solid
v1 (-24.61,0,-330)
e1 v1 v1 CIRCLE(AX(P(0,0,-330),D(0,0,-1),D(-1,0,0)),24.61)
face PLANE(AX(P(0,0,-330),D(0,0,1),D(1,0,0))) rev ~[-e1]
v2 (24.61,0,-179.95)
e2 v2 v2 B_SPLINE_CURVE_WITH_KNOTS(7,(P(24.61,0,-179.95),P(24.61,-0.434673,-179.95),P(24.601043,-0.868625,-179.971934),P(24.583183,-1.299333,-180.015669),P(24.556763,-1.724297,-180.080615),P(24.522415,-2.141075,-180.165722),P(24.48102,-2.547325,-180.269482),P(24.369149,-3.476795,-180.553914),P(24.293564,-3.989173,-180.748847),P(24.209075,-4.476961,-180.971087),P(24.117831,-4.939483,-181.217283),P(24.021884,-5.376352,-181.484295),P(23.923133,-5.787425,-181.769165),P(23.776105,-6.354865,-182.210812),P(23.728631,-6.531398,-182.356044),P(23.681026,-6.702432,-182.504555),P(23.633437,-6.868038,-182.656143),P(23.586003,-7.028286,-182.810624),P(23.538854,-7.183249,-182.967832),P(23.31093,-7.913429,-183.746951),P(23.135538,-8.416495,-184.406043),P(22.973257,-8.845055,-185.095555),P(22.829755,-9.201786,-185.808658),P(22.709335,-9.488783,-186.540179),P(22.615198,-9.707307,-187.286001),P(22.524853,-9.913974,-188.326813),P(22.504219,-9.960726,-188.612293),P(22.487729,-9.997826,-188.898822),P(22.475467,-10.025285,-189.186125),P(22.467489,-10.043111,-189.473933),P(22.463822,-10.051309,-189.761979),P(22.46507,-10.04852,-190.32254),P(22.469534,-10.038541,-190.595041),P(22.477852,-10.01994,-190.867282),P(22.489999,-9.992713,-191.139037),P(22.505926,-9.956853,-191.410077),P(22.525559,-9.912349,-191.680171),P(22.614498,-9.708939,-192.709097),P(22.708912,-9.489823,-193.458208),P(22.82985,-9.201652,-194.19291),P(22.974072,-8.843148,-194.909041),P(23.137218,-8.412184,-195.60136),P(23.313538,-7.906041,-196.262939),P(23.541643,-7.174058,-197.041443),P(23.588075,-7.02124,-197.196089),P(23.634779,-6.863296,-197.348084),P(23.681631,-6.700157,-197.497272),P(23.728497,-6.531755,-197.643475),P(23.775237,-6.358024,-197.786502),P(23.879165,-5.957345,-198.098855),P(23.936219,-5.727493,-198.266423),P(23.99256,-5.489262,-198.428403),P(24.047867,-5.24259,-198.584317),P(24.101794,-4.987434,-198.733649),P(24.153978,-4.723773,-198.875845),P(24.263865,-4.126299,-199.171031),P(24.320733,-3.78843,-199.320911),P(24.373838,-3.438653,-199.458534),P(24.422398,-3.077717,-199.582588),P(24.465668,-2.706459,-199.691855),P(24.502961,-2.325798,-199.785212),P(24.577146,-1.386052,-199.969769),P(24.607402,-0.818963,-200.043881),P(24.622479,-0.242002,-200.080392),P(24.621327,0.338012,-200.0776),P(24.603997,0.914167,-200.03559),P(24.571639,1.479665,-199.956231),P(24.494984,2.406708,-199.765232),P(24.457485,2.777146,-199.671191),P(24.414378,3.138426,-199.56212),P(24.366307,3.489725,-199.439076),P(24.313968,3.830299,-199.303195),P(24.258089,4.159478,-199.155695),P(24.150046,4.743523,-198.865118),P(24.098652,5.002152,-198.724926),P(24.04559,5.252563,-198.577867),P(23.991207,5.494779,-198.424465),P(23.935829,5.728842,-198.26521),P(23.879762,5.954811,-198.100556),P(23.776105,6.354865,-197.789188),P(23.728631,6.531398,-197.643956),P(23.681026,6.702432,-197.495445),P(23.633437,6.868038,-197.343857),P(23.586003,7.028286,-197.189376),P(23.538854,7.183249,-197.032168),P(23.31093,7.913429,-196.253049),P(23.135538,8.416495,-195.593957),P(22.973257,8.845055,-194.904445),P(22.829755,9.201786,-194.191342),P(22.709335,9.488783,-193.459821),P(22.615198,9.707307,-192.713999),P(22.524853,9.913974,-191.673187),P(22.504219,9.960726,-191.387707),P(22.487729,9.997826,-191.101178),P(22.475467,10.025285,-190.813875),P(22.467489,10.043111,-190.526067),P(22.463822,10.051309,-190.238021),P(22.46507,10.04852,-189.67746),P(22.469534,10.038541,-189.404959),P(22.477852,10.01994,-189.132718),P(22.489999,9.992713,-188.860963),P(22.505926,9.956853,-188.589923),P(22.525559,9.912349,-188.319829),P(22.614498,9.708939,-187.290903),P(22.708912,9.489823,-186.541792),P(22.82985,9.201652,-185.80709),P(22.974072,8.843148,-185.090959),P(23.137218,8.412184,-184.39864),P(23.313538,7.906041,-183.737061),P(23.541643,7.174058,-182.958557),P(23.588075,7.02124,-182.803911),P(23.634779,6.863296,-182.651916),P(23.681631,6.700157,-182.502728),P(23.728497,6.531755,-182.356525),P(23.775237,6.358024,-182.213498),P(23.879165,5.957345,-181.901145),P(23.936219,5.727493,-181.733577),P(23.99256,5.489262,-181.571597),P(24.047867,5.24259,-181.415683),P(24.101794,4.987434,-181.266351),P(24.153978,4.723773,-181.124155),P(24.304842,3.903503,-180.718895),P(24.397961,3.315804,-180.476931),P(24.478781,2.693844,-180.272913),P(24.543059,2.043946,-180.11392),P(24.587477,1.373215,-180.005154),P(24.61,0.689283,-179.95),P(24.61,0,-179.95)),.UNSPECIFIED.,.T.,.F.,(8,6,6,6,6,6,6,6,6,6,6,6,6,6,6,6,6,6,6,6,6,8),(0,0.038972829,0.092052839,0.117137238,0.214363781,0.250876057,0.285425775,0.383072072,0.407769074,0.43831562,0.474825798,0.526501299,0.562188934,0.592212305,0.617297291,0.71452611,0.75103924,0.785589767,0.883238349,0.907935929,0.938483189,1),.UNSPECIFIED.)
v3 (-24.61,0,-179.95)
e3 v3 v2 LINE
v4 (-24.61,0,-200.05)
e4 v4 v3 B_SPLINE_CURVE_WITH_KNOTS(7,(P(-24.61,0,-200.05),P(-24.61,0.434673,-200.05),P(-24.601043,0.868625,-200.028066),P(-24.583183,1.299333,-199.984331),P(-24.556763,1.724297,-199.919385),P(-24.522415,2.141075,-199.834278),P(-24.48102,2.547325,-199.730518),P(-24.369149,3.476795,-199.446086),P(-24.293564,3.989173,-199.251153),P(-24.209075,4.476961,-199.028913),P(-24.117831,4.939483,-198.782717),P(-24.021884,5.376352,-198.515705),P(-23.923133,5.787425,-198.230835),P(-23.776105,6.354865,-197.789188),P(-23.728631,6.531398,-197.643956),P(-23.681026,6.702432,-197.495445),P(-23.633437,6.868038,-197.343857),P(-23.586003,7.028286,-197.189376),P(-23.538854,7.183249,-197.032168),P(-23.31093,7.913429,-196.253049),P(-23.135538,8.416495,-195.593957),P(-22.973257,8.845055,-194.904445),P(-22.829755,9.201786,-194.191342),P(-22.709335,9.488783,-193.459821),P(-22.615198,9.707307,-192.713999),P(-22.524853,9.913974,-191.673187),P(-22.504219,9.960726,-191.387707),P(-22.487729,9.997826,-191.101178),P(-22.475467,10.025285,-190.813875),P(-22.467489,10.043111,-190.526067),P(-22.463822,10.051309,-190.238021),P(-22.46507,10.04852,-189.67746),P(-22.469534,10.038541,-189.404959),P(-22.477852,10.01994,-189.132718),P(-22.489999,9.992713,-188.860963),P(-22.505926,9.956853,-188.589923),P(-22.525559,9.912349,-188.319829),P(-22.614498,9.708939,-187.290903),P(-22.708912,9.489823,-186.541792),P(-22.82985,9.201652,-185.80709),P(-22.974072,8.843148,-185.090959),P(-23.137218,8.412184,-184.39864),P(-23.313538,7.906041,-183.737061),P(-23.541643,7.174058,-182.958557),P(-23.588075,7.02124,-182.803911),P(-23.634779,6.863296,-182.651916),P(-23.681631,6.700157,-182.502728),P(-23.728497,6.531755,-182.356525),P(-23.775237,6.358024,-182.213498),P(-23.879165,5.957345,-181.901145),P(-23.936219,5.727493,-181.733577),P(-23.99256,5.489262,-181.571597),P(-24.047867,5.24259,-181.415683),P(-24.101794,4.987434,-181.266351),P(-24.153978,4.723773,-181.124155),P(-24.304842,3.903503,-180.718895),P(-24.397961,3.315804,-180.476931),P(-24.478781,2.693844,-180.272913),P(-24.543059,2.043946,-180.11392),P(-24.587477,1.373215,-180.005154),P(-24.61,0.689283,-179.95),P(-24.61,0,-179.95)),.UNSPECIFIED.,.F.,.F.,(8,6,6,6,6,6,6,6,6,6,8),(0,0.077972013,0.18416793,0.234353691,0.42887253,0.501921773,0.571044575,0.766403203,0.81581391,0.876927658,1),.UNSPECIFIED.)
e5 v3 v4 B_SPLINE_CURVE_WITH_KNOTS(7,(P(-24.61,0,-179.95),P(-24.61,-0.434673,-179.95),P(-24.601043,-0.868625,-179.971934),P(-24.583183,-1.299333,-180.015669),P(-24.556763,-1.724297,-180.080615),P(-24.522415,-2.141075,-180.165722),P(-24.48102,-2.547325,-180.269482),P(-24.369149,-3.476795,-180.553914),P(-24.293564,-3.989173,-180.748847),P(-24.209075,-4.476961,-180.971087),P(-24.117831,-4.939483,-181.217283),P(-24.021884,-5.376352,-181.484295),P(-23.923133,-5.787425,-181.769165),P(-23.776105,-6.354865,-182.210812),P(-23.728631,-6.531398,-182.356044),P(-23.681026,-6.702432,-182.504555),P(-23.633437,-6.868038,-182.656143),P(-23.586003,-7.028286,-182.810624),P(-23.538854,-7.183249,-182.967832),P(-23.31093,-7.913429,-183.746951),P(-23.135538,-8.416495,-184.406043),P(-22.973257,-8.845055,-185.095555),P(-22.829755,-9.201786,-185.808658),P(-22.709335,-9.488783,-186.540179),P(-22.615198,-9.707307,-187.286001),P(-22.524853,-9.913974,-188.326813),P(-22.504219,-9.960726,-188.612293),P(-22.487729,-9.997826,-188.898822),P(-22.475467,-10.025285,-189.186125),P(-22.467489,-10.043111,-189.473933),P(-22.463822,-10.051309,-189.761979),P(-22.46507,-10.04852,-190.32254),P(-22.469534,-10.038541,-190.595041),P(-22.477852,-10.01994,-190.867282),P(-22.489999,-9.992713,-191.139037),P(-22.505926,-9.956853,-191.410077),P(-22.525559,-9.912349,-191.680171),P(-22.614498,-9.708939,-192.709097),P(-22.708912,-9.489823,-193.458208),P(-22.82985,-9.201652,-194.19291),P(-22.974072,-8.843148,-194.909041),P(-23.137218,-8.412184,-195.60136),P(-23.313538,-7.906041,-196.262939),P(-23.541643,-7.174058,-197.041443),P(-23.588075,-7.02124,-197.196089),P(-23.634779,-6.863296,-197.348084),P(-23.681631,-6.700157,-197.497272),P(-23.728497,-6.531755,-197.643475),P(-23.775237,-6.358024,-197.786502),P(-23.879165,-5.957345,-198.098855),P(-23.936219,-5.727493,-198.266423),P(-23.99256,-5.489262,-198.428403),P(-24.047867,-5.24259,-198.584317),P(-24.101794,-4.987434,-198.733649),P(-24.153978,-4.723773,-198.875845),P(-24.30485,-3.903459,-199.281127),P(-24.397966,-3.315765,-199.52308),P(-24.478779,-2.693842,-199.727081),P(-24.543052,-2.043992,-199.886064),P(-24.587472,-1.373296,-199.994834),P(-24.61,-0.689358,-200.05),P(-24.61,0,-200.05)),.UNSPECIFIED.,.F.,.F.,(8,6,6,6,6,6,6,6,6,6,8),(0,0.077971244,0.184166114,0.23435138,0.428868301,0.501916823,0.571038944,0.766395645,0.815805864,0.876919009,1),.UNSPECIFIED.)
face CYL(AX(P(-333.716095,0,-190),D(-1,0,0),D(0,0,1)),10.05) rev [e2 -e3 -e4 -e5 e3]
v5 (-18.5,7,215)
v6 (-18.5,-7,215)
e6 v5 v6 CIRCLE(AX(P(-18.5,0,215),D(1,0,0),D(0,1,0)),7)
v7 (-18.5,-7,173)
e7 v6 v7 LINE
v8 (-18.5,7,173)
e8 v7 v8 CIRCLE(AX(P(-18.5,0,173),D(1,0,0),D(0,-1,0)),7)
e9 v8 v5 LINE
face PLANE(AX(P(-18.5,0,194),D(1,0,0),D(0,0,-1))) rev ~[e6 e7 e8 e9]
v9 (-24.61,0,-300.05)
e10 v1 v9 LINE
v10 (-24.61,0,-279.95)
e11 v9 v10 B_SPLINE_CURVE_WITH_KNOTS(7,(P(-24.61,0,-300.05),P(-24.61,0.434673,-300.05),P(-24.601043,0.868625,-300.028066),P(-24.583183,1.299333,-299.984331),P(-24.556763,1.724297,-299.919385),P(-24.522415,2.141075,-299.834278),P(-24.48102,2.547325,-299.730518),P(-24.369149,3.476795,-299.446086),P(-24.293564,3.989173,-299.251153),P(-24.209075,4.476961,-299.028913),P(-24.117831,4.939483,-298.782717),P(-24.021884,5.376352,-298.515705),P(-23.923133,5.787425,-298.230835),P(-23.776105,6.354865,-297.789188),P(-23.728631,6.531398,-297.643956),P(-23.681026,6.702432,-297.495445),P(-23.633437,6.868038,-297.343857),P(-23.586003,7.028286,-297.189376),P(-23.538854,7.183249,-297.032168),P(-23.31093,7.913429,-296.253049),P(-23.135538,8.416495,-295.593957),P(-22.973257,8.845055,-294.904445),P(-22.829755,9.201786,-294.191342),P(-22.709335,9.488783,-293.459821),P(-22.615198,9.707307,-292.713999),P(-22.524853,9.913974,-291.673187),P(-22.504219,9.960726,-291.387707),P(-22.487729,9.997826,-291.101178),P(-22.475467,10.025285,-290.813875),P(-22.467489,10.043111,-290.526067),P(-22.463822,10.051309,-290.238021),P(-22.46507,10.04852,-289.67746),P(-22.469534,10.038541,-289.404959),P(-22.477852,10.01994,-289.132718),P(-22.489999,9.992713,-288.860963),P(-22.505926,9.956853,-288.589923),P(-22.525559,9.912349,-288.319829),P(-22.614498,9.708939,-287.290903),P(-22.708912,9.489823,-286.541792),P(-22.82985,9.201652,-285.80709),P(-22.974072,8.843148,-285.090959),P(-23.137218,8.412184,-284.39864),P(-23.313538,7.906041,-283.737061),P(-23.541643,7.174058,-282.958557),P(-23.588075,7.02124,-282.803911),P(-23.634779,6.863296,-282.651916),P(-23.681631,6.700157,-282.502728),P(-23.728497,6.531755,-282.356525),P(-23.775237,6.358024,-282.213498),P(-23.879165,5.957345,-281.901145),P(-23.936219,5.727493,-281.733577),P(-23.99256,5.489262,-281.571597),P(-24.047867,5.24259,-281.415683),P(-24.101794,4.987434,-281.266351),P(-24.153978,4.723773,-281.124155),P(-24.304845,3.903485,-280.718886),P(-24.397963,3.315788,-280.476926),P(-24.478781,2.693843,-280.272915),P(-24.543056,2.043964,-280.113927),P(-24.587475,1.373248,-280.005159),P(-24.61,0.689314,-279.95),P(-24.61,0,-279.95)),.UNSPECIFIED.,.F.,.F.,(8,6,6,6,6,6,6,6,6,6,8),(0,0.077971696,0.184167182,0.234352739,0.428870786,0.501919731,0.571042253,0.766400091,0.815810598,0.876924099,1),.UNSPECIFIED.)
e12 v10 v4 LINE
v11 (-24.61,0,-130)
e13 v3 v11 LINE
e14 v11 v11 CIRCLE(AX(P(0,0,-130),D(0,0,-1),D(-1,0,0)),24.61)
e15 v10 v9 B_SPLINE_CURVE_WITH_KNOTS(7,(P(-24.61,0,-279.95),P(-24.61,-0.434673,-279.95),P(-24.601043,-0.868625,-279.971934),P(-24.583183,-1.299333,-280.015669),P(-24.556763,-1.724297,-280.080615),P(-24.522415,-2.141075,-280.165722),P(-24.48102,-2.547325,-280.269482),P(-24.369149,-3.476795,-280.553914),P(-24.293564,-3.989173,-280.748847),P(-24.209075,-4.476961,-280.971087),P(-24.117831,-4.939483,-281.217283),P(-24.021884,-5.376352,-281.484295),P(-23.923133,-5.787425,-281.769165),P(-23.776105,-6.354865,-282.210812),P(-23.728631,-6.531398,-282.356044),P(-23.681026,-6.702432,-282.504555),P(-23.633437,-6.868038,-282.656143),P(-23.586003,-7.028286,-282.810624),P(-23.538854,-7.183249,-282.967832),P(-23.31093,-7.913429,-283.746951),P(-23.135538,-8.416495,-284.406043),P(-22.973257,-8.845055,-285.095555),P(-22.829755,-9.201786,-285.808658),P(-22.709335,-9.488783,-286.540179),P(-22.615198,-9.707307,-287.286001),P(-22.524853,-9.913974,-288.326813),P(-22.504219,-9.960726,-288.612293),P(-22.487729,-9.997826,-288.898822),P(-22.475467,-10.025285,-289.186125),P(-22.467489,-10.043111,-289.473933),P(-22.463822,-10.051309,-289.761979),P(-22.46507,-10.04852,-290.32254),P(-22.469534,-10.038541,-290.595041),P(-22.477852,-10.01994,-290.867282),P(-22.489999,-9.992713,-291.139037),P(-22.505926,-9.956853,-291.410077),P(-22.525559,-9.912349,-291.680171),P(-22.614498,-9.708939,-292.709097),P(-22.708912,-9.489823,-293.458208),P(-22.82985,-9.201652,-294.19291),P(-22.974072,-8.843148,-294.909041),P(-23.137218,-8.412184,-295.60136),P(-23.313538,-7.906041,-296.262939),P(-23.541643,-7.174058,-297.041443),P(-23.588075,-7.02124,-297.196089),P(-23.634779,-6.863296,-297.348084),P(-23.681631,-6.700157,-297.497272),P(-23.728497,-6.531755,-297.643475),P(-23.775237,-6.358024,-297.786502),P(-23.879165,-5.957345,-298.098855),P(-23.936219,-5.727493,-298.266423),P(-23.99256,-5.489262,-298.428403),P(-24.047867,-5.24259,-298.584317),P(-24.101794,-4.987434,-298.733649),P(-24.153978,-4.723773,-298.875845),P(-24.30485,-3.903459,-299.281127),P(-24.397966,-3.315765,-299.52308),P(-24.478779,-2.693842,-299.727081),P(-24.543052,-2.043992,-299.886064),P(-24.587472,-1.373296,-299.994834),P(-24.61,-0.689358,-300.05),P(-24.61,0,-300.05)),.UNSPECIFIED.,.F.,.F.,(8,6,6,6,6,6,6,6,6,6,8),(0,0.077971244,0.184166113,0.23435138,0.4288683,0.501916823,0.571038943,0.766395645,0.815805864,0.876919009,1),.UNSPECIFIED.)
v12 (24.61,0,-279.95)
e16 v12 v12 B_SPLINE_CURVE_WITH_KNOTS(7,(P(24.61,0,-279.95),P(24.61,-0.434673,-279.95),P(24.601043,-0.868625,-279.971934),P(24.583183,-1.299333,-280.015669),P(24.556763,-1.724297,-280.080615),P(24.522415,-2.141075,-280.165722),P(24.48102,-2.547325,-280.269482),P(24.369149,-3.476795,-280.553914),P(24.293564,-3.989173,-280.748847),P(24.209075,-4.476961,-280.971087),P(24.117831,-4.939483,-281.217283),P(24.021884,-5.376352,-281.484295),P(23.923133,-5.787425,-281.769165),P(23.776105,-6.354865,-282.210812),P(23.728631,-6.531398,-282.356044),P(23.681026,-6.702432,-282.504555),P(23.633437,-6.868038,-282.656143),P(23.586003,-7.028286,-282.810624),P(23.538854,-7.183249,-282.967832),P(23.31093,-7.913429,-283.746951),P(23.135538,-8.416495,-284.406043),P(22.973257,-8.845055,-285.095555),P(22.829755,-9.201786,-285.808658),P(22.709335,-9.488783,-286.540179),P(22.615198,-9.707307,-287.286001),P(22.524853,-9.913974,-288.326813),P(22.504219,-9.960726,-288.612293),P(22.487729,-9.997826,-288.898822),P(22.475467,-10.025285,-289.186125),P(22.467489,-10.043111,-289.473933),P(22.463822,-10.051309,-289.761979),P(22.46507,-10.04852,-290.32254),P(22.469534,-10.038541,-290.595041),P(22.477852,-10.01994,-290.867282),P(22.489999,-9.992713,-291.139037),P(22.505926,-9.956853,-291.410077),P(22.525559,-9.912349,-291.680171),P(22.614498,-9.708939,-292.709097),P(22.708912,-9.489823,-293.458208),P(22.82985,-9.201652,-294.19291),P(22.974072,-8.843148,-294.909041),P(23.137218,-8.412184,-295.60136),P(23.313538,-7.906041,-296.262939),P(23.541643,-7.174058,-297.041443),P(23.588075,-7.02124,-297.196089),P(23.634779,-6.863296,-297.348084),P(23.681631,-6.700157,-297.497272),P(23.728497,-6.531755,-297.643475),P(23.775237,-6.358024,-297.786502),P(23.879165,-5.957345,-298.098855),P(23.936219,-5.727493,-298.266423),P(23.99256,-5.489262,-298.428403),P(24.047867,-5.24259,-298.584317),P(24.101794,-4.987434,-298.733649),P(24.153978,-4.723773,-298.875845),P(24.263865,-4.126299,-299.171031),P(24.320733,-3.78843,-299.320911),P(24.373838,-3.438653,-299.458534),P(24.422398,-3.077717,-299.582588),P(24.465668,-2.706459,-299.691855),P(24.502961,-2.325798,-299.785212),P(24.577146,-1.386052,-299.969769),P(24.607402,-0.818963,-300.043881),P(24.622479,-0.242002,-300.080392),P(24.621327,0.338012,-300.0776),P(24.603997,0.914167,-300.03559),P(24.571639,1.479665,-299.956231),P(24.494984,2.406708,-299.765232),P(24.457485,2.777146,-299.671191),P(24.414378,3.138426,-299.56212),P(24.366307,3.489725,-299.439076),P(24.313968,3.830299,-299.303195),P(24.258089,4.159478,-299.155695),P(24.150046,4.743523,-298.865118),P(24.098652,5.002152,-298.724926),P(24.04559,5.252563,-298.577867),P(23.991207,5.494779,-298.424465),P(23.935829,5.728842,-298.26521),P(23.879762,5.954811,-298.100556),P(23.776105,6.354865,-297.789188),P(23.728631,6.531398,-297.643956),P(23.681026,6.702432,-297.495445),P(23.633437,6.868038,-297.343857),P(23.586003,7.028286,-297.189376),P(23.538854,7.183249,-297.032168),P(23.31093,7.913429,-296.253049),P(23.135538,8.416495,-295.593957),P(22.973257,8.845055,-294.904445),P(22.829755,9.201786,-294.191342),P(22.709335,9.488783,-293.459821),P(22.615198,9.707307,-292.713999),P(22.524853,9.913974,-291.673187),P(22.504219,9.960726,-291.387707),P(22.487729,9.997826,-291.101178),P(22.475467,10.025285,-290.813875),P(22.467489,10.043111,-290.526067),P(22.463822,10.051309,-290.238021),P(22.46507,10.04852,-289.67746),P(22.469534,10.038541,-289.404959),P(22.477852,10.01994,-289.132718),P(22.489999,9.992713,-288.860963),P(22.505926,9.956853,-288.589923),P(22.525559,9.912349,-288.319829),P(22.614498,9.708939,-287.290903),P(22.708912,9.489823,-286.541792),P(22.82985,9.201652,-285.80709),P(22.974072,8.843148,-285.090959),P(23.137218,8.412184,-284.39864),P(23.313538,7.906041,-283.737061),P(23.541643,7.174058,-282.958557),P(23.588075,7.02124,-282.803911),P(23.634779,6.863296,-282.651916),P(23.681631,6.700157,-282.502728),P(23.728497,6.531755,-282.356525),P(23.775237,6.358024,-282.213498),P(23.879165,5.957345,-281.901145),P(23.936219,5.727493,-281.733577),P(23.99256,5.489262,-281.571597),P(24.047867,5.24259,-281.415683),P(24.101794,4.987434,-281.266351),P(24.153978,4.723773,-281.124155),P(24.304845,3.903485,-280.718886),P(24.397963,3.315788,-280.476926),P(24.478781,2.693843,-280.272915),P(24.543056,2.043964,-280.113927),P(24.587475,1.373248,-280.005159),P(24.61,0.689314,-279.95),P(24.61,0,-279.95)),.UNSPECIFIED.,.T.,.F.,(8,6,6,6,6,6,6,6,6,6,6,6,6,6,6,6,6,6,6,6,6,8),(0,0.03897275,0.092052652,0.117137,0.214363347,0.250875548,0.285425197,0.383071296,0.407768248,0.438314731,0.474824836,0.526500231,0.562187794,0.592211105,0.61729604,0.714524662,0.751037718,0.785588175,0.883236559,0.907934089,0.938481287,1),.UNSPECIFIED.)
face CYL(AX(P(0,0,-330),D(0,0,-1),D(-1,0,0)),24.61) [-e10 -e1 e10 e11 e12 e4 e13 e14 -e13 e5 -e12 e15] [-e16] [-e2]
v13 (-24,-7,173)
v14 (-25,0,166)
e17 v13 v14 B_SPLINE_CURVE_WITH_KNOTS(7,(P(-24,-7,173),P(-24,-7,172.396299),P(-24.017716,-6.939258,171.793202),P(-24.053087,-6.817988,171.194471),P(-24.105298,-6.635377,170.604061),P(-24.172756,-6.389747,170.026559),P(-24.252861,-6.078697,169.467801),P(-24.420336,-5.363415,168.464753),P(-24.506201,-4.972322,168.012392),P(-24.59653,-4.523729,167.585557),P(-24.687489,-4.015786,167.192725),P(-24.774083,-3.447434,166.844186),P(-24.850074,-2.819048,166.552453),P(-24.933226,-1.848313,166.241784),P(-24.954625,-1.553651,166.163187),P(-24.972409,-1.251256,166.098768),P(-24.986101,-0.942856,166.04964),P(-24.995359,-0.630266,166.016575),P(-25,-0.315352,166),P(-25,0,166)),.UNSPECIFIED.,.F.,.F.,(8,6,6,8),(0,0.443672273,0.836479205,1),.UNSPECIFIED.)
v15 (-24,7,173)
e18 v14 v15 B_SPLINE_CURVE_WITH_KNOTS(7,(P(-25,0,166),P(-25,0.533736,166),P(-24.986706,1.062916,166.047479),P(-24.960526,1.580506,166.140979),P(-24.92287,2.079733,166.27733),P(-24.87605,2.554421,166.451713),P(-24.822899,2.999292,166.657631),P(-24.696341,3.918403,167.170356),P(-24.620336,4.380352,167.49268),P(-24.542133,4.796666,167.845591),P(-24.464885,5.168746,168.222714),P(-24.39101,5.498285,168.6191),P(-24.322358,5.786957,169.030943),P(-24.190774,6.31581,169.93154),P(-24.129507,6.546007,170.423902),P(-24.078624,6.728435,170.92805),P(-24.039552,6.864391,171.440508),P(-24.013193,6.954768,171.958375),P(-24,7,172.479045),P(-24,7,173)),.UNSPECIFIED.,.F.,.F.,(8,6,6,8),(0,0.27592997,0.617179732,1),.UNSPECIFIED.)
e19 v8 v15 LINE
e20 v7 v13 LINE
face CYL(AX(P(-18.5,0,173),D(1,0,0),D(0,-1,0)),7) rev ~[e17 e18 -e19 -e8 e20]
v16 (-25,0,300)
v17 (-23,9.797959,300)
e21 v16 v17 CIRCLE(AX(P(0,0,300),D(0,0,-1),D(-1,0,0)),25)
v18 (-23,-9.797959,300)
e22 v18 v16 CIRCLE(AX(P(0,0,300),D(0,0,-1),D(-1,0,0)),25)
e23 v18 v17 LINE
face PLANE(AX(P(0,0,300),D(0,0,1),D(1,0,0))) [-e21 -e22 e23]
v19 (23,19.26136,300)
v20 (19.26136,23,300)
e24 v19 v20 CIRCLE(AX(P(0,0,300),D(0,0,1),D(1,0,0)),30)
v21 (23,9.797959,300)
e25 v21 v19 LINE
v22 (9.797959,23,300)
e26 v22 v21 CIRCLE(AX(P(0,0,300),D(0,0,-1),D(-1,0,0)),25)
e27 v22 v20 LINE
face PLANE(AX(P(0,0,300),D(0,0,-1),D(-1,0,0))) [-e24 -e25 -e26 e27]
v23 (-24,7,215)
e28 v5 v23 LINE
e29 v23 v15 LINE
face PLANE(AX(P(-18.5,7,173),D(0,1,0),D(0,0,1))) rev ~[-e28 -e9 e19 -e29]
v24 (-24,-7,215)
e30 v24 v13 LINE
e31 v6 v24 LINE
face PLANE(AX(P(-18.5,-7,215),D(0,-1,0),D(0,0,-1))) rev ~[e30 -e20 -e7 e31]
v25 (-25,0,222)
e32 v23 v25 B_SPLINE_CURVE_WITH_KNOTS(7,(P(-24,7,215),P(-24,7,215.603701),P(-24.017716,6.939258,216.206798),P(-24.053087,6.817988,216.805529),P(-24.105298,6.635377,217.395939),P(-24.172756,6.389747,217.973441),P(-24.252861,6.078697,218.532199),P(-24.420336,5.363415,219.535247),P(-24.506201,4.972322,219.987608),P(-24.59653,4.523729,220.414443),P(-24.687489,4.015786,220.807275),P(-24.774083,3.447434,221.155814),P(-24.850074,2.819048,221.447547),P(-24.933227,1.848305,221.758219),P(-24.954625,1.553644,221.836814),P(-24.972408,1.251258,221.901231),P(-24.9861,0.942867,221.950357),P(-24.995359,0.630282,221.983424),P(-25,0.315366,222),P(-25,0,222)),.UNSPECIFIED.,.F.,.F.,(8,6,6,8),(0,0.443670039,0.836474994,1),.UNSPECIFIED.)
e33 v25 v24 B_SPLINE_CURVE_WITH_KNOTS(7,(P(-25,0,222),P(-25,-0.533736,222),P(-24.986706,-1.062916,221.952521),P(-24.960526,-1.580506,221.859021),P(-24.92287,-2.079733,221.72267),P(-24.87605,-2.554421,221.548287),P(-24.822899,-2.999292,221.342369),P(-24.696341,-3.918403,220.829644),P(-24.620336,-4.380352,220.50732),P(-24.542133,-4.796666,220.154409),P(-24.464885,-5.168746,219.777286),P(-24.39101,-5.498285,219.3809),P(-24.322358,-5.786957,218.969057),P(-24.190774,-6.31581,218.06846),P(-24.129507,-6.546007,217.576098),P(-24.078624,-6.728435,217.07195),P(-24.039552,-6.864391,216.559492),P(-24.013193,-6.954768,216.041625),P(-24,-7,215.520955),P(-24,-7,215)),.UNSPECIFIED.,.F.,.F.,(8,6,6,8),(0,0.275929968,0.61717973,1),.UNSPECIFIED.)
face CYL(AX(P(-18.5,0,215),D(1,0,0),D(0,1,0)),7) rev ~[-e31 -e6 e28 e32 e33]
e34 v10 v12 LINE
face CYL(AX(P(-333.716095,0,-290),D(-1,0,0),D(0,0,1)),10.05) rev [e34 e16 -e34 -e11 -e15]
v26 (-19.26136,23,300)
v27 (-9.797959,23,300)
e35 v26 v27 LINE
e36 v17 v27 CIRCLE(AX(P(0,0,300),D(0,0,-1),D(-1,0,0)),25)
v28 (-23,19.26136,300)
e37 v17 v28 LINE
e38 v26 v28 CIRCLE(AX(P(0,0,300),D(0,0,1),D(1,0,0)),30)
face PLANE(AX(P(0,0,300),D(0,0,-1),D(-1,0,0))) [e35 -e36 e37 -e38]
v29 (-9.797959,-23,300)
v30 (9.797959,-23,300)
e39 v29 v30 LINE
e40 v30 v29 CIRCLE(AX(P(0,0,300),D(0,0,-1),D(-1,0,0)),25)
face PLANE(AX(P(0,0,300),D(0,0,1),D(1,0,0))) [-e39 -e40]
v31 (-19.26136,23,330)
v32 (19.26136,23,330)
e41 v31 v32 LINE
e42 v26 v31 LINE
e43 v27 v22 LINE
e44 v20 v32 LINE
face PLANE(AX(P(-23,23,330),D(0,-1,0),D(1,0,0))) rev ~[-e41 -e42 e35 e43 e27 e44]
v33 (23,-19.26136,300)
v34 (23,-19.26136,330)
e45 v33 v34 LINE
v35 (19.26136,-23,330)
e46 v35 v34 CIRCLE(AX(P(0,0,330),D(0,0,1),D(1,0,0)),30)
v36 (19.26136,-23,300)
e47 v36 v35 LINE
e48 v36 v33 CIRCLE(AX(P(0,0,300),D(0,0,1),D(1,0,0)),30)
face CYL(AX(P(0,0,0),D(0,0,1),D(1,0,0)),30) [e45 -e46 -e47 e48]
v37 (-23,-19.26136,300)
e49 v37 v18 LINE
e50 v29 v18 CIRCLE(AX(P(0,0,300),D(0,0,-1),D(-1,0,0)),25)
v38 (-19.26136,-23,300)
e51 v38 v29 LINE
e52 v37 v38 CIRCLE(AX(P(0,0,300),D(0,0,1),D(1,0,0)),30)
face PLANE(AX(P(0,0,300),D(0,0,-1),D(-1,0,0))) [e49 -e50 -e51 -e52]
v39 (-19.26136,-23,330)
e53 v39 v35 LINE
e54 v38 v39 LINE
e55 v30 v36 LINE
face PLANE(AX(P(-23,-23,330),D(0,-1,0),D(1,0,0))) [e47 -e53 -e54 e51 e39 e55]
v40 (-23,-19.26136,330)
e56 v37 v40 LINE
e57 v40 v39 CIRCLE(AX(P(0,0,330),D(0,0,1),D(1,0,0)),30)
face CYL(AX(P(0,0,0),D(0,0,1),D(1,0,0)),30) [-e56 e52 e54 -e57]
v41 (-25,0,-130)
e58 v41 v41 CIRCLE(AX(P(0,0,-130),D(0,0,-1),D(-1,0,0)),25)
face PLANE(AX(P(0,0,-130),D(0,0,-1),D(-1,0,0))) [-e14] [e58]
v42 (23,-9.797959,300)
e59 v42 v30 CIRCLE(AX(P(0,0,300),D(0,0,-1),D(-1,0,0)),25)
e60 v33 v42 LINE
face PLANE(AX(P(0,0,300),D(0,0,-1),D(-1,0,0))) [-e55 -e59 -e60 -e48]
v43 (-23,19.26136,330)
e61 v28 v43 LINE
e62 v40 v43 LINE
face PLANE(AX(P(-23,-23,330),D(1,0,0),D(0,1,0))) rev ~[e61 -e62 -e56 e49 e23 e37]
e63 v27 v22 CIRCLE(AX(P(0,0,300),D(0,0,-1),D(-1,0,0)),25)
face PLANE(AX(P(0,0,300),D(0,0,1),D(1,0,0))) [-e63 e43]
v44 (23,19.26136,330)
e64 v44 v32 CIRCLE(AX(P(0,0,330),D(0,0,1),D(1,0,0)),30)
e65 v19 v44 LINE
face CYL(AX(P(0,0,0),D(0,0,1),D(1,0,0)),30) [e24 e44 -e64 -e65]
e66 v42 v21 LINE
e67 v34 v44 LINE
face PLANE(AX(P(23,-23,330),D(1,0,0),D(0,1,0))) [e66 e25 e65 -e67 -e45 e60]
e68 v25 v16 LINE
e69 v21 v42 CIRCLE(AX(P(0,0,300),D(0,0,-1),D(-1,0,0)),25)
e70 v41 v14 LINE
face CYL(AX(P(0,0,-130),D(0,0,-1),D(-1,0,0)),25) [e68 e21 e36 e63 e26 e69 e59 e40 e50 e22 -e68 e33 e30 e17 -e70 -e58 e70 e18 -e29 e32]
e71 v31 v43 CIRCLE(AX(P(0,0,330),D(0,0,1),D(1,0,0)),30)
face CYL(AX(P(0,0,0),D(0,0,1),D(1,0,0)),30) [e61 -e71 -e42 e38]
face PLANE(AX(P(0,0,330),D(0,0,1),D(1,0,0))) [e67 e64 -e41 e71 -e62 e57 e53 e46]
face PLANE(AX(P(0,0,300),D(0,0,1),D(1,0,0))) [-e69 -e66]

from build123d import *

# Parameters (mm, degrees)
SKETCH1_R               = 30
BOSS_EXTRUDE1_DEPTH     = 330
CUT_EXTRUDE1_DEPTH      = 333.716095192
CUT_EXTRUDE1_DEPTH_BACK = 333.716095192
SKETCH2_R               = 10.05
CUT_EXTRUDE2_DEPTH      = 335.89140043
SKETCH4_OUTSIDE_W       = 195.086
SKETCH4_OUTSIDE_H       = 195.086
SKETCH4_OUTSIDE_W_2     = 46
SKETCH4_OUTSIDE_H_2     = 46
CUT_EXTRUDE3_DEPTH      = 30
SKETCH5_OUTSIDE_W       = 195.086
SKETCH5_OUTSIDE_H       = 195.086
SKETCH5_OUTSIDE_R       = 24.61
CUT_EXTRUDE4_DEPTH      = 200
SKETCH6_OUTSIDE_W       = 195.086
SKETCH6_OUTSIDE_H       = 195.086
SKETCH6_OUTSIDE_R       = 25
CUT_EXTRUDE5_DEPTH      = 430


with BuildPart() as part:
    # Sketch1 → Boss-Extrude1 (new, symmetric)
    with BuildSketch(Plane.XY):
        Circle(SKETCH1_R)
    extrude(amount=BOSS_EXTRUDE1_DEPTH, both=True)

    # Sketch2 → Cut-Extrude1 (cut, two sides: drawn at the far end of the back side and taken through both)
    with BuildSketch(Plane(origin=(0, 0, 0), x_dir=(0, 0, -1), z_dir=(1, 0, 0)).offset(-CUT_EXTRUDE1_DEPTH_BACK)):
        with Locations(Location((190, 0, 0), (0, 0, 180))):
            Circle(SKETCH2_R)
        with Locations(Location((290, 0, 0), (0, 0, 180))):
            Circle(SKETCH2_R)
    extrude(amount=CUT_EXTRUDE1_DEPTH + CUT_EXTRUDE1_DEPTH_BACK, mode=Mode.SUBTRACT)

    # Sketch3 → Cut-Extrude2 (cut, through all)
    with BuildSketch(Plane(origin=(-18.5, 0, 0), x_dir=(0, 0, -1), z_dir=(1, 0, 0))):
        with BuildLine():
            Line((-215, -7), (-173, -7))
            ThreePointArc((-173, -7), (-166, 0), (-173, 7))
            Line((-173, 7), (-215, 7))
            ThreePointArc((-215, 7), (-222, 0), (-215, -7))
        make_face()
    extrude(amount=-CUT_EXTRUDE2_DEPTH, mode=Mode.SUBTRACT)

    # Sketch4 outside → Cut-Extrude3 (cut)
    with BuildSketch(Plane.XY.offset(330)):
        Rectangle(SKETCH4_OUTSIDE_W, SKETCH4_OUTSIDE_H)
        Rectangle(SKETCH4_OUTSIDE_W_2, SKETCH4_OUTSIDE_H_2, mode=Mode.SUBTRACT)
    extrude(amount=-CUT_EXTRUDE3_DEPTH, mode=Mode.SUBTRACT)

    # Sketch5 outside → Cut-Extrude4 (cut)
    with BuildSketch(Plane(origin=(0, 0, -330), x_dir=(-1, 0, 0), z_dir=(0, 0, -1))):
        Rectangle(SKETCH5_OUTSIDE_W, SKETCH5_OUTSIDE_H)
        Circle(SKETCH5_OUTSIDE_R, mode=Mode.SUBTRACT)
    extrude(amount=-CUT_EXTRUDE4_DEPTH, mode=Mode.SUBTRACT)

    # Sketch6 outside → Cut-Extrude5 (cut)
    with BuildSketch(Plane(origin=(0, 0, -130), x_dir=(-1, 0, 0), z_dir=(0, 0, -1))):
        Rectangle(SKETCH6_OUTSIDE_W, SKETCH6_OUTSIDE_H)
        Circle(SKETCH6_OUTSIDE_R, mode=Mode.SUBTRACT)
    extrude(amount=-CUT_EXTRUDE5_DEPTH, mode=Mode.SUBTRACT)


solid = part.part
